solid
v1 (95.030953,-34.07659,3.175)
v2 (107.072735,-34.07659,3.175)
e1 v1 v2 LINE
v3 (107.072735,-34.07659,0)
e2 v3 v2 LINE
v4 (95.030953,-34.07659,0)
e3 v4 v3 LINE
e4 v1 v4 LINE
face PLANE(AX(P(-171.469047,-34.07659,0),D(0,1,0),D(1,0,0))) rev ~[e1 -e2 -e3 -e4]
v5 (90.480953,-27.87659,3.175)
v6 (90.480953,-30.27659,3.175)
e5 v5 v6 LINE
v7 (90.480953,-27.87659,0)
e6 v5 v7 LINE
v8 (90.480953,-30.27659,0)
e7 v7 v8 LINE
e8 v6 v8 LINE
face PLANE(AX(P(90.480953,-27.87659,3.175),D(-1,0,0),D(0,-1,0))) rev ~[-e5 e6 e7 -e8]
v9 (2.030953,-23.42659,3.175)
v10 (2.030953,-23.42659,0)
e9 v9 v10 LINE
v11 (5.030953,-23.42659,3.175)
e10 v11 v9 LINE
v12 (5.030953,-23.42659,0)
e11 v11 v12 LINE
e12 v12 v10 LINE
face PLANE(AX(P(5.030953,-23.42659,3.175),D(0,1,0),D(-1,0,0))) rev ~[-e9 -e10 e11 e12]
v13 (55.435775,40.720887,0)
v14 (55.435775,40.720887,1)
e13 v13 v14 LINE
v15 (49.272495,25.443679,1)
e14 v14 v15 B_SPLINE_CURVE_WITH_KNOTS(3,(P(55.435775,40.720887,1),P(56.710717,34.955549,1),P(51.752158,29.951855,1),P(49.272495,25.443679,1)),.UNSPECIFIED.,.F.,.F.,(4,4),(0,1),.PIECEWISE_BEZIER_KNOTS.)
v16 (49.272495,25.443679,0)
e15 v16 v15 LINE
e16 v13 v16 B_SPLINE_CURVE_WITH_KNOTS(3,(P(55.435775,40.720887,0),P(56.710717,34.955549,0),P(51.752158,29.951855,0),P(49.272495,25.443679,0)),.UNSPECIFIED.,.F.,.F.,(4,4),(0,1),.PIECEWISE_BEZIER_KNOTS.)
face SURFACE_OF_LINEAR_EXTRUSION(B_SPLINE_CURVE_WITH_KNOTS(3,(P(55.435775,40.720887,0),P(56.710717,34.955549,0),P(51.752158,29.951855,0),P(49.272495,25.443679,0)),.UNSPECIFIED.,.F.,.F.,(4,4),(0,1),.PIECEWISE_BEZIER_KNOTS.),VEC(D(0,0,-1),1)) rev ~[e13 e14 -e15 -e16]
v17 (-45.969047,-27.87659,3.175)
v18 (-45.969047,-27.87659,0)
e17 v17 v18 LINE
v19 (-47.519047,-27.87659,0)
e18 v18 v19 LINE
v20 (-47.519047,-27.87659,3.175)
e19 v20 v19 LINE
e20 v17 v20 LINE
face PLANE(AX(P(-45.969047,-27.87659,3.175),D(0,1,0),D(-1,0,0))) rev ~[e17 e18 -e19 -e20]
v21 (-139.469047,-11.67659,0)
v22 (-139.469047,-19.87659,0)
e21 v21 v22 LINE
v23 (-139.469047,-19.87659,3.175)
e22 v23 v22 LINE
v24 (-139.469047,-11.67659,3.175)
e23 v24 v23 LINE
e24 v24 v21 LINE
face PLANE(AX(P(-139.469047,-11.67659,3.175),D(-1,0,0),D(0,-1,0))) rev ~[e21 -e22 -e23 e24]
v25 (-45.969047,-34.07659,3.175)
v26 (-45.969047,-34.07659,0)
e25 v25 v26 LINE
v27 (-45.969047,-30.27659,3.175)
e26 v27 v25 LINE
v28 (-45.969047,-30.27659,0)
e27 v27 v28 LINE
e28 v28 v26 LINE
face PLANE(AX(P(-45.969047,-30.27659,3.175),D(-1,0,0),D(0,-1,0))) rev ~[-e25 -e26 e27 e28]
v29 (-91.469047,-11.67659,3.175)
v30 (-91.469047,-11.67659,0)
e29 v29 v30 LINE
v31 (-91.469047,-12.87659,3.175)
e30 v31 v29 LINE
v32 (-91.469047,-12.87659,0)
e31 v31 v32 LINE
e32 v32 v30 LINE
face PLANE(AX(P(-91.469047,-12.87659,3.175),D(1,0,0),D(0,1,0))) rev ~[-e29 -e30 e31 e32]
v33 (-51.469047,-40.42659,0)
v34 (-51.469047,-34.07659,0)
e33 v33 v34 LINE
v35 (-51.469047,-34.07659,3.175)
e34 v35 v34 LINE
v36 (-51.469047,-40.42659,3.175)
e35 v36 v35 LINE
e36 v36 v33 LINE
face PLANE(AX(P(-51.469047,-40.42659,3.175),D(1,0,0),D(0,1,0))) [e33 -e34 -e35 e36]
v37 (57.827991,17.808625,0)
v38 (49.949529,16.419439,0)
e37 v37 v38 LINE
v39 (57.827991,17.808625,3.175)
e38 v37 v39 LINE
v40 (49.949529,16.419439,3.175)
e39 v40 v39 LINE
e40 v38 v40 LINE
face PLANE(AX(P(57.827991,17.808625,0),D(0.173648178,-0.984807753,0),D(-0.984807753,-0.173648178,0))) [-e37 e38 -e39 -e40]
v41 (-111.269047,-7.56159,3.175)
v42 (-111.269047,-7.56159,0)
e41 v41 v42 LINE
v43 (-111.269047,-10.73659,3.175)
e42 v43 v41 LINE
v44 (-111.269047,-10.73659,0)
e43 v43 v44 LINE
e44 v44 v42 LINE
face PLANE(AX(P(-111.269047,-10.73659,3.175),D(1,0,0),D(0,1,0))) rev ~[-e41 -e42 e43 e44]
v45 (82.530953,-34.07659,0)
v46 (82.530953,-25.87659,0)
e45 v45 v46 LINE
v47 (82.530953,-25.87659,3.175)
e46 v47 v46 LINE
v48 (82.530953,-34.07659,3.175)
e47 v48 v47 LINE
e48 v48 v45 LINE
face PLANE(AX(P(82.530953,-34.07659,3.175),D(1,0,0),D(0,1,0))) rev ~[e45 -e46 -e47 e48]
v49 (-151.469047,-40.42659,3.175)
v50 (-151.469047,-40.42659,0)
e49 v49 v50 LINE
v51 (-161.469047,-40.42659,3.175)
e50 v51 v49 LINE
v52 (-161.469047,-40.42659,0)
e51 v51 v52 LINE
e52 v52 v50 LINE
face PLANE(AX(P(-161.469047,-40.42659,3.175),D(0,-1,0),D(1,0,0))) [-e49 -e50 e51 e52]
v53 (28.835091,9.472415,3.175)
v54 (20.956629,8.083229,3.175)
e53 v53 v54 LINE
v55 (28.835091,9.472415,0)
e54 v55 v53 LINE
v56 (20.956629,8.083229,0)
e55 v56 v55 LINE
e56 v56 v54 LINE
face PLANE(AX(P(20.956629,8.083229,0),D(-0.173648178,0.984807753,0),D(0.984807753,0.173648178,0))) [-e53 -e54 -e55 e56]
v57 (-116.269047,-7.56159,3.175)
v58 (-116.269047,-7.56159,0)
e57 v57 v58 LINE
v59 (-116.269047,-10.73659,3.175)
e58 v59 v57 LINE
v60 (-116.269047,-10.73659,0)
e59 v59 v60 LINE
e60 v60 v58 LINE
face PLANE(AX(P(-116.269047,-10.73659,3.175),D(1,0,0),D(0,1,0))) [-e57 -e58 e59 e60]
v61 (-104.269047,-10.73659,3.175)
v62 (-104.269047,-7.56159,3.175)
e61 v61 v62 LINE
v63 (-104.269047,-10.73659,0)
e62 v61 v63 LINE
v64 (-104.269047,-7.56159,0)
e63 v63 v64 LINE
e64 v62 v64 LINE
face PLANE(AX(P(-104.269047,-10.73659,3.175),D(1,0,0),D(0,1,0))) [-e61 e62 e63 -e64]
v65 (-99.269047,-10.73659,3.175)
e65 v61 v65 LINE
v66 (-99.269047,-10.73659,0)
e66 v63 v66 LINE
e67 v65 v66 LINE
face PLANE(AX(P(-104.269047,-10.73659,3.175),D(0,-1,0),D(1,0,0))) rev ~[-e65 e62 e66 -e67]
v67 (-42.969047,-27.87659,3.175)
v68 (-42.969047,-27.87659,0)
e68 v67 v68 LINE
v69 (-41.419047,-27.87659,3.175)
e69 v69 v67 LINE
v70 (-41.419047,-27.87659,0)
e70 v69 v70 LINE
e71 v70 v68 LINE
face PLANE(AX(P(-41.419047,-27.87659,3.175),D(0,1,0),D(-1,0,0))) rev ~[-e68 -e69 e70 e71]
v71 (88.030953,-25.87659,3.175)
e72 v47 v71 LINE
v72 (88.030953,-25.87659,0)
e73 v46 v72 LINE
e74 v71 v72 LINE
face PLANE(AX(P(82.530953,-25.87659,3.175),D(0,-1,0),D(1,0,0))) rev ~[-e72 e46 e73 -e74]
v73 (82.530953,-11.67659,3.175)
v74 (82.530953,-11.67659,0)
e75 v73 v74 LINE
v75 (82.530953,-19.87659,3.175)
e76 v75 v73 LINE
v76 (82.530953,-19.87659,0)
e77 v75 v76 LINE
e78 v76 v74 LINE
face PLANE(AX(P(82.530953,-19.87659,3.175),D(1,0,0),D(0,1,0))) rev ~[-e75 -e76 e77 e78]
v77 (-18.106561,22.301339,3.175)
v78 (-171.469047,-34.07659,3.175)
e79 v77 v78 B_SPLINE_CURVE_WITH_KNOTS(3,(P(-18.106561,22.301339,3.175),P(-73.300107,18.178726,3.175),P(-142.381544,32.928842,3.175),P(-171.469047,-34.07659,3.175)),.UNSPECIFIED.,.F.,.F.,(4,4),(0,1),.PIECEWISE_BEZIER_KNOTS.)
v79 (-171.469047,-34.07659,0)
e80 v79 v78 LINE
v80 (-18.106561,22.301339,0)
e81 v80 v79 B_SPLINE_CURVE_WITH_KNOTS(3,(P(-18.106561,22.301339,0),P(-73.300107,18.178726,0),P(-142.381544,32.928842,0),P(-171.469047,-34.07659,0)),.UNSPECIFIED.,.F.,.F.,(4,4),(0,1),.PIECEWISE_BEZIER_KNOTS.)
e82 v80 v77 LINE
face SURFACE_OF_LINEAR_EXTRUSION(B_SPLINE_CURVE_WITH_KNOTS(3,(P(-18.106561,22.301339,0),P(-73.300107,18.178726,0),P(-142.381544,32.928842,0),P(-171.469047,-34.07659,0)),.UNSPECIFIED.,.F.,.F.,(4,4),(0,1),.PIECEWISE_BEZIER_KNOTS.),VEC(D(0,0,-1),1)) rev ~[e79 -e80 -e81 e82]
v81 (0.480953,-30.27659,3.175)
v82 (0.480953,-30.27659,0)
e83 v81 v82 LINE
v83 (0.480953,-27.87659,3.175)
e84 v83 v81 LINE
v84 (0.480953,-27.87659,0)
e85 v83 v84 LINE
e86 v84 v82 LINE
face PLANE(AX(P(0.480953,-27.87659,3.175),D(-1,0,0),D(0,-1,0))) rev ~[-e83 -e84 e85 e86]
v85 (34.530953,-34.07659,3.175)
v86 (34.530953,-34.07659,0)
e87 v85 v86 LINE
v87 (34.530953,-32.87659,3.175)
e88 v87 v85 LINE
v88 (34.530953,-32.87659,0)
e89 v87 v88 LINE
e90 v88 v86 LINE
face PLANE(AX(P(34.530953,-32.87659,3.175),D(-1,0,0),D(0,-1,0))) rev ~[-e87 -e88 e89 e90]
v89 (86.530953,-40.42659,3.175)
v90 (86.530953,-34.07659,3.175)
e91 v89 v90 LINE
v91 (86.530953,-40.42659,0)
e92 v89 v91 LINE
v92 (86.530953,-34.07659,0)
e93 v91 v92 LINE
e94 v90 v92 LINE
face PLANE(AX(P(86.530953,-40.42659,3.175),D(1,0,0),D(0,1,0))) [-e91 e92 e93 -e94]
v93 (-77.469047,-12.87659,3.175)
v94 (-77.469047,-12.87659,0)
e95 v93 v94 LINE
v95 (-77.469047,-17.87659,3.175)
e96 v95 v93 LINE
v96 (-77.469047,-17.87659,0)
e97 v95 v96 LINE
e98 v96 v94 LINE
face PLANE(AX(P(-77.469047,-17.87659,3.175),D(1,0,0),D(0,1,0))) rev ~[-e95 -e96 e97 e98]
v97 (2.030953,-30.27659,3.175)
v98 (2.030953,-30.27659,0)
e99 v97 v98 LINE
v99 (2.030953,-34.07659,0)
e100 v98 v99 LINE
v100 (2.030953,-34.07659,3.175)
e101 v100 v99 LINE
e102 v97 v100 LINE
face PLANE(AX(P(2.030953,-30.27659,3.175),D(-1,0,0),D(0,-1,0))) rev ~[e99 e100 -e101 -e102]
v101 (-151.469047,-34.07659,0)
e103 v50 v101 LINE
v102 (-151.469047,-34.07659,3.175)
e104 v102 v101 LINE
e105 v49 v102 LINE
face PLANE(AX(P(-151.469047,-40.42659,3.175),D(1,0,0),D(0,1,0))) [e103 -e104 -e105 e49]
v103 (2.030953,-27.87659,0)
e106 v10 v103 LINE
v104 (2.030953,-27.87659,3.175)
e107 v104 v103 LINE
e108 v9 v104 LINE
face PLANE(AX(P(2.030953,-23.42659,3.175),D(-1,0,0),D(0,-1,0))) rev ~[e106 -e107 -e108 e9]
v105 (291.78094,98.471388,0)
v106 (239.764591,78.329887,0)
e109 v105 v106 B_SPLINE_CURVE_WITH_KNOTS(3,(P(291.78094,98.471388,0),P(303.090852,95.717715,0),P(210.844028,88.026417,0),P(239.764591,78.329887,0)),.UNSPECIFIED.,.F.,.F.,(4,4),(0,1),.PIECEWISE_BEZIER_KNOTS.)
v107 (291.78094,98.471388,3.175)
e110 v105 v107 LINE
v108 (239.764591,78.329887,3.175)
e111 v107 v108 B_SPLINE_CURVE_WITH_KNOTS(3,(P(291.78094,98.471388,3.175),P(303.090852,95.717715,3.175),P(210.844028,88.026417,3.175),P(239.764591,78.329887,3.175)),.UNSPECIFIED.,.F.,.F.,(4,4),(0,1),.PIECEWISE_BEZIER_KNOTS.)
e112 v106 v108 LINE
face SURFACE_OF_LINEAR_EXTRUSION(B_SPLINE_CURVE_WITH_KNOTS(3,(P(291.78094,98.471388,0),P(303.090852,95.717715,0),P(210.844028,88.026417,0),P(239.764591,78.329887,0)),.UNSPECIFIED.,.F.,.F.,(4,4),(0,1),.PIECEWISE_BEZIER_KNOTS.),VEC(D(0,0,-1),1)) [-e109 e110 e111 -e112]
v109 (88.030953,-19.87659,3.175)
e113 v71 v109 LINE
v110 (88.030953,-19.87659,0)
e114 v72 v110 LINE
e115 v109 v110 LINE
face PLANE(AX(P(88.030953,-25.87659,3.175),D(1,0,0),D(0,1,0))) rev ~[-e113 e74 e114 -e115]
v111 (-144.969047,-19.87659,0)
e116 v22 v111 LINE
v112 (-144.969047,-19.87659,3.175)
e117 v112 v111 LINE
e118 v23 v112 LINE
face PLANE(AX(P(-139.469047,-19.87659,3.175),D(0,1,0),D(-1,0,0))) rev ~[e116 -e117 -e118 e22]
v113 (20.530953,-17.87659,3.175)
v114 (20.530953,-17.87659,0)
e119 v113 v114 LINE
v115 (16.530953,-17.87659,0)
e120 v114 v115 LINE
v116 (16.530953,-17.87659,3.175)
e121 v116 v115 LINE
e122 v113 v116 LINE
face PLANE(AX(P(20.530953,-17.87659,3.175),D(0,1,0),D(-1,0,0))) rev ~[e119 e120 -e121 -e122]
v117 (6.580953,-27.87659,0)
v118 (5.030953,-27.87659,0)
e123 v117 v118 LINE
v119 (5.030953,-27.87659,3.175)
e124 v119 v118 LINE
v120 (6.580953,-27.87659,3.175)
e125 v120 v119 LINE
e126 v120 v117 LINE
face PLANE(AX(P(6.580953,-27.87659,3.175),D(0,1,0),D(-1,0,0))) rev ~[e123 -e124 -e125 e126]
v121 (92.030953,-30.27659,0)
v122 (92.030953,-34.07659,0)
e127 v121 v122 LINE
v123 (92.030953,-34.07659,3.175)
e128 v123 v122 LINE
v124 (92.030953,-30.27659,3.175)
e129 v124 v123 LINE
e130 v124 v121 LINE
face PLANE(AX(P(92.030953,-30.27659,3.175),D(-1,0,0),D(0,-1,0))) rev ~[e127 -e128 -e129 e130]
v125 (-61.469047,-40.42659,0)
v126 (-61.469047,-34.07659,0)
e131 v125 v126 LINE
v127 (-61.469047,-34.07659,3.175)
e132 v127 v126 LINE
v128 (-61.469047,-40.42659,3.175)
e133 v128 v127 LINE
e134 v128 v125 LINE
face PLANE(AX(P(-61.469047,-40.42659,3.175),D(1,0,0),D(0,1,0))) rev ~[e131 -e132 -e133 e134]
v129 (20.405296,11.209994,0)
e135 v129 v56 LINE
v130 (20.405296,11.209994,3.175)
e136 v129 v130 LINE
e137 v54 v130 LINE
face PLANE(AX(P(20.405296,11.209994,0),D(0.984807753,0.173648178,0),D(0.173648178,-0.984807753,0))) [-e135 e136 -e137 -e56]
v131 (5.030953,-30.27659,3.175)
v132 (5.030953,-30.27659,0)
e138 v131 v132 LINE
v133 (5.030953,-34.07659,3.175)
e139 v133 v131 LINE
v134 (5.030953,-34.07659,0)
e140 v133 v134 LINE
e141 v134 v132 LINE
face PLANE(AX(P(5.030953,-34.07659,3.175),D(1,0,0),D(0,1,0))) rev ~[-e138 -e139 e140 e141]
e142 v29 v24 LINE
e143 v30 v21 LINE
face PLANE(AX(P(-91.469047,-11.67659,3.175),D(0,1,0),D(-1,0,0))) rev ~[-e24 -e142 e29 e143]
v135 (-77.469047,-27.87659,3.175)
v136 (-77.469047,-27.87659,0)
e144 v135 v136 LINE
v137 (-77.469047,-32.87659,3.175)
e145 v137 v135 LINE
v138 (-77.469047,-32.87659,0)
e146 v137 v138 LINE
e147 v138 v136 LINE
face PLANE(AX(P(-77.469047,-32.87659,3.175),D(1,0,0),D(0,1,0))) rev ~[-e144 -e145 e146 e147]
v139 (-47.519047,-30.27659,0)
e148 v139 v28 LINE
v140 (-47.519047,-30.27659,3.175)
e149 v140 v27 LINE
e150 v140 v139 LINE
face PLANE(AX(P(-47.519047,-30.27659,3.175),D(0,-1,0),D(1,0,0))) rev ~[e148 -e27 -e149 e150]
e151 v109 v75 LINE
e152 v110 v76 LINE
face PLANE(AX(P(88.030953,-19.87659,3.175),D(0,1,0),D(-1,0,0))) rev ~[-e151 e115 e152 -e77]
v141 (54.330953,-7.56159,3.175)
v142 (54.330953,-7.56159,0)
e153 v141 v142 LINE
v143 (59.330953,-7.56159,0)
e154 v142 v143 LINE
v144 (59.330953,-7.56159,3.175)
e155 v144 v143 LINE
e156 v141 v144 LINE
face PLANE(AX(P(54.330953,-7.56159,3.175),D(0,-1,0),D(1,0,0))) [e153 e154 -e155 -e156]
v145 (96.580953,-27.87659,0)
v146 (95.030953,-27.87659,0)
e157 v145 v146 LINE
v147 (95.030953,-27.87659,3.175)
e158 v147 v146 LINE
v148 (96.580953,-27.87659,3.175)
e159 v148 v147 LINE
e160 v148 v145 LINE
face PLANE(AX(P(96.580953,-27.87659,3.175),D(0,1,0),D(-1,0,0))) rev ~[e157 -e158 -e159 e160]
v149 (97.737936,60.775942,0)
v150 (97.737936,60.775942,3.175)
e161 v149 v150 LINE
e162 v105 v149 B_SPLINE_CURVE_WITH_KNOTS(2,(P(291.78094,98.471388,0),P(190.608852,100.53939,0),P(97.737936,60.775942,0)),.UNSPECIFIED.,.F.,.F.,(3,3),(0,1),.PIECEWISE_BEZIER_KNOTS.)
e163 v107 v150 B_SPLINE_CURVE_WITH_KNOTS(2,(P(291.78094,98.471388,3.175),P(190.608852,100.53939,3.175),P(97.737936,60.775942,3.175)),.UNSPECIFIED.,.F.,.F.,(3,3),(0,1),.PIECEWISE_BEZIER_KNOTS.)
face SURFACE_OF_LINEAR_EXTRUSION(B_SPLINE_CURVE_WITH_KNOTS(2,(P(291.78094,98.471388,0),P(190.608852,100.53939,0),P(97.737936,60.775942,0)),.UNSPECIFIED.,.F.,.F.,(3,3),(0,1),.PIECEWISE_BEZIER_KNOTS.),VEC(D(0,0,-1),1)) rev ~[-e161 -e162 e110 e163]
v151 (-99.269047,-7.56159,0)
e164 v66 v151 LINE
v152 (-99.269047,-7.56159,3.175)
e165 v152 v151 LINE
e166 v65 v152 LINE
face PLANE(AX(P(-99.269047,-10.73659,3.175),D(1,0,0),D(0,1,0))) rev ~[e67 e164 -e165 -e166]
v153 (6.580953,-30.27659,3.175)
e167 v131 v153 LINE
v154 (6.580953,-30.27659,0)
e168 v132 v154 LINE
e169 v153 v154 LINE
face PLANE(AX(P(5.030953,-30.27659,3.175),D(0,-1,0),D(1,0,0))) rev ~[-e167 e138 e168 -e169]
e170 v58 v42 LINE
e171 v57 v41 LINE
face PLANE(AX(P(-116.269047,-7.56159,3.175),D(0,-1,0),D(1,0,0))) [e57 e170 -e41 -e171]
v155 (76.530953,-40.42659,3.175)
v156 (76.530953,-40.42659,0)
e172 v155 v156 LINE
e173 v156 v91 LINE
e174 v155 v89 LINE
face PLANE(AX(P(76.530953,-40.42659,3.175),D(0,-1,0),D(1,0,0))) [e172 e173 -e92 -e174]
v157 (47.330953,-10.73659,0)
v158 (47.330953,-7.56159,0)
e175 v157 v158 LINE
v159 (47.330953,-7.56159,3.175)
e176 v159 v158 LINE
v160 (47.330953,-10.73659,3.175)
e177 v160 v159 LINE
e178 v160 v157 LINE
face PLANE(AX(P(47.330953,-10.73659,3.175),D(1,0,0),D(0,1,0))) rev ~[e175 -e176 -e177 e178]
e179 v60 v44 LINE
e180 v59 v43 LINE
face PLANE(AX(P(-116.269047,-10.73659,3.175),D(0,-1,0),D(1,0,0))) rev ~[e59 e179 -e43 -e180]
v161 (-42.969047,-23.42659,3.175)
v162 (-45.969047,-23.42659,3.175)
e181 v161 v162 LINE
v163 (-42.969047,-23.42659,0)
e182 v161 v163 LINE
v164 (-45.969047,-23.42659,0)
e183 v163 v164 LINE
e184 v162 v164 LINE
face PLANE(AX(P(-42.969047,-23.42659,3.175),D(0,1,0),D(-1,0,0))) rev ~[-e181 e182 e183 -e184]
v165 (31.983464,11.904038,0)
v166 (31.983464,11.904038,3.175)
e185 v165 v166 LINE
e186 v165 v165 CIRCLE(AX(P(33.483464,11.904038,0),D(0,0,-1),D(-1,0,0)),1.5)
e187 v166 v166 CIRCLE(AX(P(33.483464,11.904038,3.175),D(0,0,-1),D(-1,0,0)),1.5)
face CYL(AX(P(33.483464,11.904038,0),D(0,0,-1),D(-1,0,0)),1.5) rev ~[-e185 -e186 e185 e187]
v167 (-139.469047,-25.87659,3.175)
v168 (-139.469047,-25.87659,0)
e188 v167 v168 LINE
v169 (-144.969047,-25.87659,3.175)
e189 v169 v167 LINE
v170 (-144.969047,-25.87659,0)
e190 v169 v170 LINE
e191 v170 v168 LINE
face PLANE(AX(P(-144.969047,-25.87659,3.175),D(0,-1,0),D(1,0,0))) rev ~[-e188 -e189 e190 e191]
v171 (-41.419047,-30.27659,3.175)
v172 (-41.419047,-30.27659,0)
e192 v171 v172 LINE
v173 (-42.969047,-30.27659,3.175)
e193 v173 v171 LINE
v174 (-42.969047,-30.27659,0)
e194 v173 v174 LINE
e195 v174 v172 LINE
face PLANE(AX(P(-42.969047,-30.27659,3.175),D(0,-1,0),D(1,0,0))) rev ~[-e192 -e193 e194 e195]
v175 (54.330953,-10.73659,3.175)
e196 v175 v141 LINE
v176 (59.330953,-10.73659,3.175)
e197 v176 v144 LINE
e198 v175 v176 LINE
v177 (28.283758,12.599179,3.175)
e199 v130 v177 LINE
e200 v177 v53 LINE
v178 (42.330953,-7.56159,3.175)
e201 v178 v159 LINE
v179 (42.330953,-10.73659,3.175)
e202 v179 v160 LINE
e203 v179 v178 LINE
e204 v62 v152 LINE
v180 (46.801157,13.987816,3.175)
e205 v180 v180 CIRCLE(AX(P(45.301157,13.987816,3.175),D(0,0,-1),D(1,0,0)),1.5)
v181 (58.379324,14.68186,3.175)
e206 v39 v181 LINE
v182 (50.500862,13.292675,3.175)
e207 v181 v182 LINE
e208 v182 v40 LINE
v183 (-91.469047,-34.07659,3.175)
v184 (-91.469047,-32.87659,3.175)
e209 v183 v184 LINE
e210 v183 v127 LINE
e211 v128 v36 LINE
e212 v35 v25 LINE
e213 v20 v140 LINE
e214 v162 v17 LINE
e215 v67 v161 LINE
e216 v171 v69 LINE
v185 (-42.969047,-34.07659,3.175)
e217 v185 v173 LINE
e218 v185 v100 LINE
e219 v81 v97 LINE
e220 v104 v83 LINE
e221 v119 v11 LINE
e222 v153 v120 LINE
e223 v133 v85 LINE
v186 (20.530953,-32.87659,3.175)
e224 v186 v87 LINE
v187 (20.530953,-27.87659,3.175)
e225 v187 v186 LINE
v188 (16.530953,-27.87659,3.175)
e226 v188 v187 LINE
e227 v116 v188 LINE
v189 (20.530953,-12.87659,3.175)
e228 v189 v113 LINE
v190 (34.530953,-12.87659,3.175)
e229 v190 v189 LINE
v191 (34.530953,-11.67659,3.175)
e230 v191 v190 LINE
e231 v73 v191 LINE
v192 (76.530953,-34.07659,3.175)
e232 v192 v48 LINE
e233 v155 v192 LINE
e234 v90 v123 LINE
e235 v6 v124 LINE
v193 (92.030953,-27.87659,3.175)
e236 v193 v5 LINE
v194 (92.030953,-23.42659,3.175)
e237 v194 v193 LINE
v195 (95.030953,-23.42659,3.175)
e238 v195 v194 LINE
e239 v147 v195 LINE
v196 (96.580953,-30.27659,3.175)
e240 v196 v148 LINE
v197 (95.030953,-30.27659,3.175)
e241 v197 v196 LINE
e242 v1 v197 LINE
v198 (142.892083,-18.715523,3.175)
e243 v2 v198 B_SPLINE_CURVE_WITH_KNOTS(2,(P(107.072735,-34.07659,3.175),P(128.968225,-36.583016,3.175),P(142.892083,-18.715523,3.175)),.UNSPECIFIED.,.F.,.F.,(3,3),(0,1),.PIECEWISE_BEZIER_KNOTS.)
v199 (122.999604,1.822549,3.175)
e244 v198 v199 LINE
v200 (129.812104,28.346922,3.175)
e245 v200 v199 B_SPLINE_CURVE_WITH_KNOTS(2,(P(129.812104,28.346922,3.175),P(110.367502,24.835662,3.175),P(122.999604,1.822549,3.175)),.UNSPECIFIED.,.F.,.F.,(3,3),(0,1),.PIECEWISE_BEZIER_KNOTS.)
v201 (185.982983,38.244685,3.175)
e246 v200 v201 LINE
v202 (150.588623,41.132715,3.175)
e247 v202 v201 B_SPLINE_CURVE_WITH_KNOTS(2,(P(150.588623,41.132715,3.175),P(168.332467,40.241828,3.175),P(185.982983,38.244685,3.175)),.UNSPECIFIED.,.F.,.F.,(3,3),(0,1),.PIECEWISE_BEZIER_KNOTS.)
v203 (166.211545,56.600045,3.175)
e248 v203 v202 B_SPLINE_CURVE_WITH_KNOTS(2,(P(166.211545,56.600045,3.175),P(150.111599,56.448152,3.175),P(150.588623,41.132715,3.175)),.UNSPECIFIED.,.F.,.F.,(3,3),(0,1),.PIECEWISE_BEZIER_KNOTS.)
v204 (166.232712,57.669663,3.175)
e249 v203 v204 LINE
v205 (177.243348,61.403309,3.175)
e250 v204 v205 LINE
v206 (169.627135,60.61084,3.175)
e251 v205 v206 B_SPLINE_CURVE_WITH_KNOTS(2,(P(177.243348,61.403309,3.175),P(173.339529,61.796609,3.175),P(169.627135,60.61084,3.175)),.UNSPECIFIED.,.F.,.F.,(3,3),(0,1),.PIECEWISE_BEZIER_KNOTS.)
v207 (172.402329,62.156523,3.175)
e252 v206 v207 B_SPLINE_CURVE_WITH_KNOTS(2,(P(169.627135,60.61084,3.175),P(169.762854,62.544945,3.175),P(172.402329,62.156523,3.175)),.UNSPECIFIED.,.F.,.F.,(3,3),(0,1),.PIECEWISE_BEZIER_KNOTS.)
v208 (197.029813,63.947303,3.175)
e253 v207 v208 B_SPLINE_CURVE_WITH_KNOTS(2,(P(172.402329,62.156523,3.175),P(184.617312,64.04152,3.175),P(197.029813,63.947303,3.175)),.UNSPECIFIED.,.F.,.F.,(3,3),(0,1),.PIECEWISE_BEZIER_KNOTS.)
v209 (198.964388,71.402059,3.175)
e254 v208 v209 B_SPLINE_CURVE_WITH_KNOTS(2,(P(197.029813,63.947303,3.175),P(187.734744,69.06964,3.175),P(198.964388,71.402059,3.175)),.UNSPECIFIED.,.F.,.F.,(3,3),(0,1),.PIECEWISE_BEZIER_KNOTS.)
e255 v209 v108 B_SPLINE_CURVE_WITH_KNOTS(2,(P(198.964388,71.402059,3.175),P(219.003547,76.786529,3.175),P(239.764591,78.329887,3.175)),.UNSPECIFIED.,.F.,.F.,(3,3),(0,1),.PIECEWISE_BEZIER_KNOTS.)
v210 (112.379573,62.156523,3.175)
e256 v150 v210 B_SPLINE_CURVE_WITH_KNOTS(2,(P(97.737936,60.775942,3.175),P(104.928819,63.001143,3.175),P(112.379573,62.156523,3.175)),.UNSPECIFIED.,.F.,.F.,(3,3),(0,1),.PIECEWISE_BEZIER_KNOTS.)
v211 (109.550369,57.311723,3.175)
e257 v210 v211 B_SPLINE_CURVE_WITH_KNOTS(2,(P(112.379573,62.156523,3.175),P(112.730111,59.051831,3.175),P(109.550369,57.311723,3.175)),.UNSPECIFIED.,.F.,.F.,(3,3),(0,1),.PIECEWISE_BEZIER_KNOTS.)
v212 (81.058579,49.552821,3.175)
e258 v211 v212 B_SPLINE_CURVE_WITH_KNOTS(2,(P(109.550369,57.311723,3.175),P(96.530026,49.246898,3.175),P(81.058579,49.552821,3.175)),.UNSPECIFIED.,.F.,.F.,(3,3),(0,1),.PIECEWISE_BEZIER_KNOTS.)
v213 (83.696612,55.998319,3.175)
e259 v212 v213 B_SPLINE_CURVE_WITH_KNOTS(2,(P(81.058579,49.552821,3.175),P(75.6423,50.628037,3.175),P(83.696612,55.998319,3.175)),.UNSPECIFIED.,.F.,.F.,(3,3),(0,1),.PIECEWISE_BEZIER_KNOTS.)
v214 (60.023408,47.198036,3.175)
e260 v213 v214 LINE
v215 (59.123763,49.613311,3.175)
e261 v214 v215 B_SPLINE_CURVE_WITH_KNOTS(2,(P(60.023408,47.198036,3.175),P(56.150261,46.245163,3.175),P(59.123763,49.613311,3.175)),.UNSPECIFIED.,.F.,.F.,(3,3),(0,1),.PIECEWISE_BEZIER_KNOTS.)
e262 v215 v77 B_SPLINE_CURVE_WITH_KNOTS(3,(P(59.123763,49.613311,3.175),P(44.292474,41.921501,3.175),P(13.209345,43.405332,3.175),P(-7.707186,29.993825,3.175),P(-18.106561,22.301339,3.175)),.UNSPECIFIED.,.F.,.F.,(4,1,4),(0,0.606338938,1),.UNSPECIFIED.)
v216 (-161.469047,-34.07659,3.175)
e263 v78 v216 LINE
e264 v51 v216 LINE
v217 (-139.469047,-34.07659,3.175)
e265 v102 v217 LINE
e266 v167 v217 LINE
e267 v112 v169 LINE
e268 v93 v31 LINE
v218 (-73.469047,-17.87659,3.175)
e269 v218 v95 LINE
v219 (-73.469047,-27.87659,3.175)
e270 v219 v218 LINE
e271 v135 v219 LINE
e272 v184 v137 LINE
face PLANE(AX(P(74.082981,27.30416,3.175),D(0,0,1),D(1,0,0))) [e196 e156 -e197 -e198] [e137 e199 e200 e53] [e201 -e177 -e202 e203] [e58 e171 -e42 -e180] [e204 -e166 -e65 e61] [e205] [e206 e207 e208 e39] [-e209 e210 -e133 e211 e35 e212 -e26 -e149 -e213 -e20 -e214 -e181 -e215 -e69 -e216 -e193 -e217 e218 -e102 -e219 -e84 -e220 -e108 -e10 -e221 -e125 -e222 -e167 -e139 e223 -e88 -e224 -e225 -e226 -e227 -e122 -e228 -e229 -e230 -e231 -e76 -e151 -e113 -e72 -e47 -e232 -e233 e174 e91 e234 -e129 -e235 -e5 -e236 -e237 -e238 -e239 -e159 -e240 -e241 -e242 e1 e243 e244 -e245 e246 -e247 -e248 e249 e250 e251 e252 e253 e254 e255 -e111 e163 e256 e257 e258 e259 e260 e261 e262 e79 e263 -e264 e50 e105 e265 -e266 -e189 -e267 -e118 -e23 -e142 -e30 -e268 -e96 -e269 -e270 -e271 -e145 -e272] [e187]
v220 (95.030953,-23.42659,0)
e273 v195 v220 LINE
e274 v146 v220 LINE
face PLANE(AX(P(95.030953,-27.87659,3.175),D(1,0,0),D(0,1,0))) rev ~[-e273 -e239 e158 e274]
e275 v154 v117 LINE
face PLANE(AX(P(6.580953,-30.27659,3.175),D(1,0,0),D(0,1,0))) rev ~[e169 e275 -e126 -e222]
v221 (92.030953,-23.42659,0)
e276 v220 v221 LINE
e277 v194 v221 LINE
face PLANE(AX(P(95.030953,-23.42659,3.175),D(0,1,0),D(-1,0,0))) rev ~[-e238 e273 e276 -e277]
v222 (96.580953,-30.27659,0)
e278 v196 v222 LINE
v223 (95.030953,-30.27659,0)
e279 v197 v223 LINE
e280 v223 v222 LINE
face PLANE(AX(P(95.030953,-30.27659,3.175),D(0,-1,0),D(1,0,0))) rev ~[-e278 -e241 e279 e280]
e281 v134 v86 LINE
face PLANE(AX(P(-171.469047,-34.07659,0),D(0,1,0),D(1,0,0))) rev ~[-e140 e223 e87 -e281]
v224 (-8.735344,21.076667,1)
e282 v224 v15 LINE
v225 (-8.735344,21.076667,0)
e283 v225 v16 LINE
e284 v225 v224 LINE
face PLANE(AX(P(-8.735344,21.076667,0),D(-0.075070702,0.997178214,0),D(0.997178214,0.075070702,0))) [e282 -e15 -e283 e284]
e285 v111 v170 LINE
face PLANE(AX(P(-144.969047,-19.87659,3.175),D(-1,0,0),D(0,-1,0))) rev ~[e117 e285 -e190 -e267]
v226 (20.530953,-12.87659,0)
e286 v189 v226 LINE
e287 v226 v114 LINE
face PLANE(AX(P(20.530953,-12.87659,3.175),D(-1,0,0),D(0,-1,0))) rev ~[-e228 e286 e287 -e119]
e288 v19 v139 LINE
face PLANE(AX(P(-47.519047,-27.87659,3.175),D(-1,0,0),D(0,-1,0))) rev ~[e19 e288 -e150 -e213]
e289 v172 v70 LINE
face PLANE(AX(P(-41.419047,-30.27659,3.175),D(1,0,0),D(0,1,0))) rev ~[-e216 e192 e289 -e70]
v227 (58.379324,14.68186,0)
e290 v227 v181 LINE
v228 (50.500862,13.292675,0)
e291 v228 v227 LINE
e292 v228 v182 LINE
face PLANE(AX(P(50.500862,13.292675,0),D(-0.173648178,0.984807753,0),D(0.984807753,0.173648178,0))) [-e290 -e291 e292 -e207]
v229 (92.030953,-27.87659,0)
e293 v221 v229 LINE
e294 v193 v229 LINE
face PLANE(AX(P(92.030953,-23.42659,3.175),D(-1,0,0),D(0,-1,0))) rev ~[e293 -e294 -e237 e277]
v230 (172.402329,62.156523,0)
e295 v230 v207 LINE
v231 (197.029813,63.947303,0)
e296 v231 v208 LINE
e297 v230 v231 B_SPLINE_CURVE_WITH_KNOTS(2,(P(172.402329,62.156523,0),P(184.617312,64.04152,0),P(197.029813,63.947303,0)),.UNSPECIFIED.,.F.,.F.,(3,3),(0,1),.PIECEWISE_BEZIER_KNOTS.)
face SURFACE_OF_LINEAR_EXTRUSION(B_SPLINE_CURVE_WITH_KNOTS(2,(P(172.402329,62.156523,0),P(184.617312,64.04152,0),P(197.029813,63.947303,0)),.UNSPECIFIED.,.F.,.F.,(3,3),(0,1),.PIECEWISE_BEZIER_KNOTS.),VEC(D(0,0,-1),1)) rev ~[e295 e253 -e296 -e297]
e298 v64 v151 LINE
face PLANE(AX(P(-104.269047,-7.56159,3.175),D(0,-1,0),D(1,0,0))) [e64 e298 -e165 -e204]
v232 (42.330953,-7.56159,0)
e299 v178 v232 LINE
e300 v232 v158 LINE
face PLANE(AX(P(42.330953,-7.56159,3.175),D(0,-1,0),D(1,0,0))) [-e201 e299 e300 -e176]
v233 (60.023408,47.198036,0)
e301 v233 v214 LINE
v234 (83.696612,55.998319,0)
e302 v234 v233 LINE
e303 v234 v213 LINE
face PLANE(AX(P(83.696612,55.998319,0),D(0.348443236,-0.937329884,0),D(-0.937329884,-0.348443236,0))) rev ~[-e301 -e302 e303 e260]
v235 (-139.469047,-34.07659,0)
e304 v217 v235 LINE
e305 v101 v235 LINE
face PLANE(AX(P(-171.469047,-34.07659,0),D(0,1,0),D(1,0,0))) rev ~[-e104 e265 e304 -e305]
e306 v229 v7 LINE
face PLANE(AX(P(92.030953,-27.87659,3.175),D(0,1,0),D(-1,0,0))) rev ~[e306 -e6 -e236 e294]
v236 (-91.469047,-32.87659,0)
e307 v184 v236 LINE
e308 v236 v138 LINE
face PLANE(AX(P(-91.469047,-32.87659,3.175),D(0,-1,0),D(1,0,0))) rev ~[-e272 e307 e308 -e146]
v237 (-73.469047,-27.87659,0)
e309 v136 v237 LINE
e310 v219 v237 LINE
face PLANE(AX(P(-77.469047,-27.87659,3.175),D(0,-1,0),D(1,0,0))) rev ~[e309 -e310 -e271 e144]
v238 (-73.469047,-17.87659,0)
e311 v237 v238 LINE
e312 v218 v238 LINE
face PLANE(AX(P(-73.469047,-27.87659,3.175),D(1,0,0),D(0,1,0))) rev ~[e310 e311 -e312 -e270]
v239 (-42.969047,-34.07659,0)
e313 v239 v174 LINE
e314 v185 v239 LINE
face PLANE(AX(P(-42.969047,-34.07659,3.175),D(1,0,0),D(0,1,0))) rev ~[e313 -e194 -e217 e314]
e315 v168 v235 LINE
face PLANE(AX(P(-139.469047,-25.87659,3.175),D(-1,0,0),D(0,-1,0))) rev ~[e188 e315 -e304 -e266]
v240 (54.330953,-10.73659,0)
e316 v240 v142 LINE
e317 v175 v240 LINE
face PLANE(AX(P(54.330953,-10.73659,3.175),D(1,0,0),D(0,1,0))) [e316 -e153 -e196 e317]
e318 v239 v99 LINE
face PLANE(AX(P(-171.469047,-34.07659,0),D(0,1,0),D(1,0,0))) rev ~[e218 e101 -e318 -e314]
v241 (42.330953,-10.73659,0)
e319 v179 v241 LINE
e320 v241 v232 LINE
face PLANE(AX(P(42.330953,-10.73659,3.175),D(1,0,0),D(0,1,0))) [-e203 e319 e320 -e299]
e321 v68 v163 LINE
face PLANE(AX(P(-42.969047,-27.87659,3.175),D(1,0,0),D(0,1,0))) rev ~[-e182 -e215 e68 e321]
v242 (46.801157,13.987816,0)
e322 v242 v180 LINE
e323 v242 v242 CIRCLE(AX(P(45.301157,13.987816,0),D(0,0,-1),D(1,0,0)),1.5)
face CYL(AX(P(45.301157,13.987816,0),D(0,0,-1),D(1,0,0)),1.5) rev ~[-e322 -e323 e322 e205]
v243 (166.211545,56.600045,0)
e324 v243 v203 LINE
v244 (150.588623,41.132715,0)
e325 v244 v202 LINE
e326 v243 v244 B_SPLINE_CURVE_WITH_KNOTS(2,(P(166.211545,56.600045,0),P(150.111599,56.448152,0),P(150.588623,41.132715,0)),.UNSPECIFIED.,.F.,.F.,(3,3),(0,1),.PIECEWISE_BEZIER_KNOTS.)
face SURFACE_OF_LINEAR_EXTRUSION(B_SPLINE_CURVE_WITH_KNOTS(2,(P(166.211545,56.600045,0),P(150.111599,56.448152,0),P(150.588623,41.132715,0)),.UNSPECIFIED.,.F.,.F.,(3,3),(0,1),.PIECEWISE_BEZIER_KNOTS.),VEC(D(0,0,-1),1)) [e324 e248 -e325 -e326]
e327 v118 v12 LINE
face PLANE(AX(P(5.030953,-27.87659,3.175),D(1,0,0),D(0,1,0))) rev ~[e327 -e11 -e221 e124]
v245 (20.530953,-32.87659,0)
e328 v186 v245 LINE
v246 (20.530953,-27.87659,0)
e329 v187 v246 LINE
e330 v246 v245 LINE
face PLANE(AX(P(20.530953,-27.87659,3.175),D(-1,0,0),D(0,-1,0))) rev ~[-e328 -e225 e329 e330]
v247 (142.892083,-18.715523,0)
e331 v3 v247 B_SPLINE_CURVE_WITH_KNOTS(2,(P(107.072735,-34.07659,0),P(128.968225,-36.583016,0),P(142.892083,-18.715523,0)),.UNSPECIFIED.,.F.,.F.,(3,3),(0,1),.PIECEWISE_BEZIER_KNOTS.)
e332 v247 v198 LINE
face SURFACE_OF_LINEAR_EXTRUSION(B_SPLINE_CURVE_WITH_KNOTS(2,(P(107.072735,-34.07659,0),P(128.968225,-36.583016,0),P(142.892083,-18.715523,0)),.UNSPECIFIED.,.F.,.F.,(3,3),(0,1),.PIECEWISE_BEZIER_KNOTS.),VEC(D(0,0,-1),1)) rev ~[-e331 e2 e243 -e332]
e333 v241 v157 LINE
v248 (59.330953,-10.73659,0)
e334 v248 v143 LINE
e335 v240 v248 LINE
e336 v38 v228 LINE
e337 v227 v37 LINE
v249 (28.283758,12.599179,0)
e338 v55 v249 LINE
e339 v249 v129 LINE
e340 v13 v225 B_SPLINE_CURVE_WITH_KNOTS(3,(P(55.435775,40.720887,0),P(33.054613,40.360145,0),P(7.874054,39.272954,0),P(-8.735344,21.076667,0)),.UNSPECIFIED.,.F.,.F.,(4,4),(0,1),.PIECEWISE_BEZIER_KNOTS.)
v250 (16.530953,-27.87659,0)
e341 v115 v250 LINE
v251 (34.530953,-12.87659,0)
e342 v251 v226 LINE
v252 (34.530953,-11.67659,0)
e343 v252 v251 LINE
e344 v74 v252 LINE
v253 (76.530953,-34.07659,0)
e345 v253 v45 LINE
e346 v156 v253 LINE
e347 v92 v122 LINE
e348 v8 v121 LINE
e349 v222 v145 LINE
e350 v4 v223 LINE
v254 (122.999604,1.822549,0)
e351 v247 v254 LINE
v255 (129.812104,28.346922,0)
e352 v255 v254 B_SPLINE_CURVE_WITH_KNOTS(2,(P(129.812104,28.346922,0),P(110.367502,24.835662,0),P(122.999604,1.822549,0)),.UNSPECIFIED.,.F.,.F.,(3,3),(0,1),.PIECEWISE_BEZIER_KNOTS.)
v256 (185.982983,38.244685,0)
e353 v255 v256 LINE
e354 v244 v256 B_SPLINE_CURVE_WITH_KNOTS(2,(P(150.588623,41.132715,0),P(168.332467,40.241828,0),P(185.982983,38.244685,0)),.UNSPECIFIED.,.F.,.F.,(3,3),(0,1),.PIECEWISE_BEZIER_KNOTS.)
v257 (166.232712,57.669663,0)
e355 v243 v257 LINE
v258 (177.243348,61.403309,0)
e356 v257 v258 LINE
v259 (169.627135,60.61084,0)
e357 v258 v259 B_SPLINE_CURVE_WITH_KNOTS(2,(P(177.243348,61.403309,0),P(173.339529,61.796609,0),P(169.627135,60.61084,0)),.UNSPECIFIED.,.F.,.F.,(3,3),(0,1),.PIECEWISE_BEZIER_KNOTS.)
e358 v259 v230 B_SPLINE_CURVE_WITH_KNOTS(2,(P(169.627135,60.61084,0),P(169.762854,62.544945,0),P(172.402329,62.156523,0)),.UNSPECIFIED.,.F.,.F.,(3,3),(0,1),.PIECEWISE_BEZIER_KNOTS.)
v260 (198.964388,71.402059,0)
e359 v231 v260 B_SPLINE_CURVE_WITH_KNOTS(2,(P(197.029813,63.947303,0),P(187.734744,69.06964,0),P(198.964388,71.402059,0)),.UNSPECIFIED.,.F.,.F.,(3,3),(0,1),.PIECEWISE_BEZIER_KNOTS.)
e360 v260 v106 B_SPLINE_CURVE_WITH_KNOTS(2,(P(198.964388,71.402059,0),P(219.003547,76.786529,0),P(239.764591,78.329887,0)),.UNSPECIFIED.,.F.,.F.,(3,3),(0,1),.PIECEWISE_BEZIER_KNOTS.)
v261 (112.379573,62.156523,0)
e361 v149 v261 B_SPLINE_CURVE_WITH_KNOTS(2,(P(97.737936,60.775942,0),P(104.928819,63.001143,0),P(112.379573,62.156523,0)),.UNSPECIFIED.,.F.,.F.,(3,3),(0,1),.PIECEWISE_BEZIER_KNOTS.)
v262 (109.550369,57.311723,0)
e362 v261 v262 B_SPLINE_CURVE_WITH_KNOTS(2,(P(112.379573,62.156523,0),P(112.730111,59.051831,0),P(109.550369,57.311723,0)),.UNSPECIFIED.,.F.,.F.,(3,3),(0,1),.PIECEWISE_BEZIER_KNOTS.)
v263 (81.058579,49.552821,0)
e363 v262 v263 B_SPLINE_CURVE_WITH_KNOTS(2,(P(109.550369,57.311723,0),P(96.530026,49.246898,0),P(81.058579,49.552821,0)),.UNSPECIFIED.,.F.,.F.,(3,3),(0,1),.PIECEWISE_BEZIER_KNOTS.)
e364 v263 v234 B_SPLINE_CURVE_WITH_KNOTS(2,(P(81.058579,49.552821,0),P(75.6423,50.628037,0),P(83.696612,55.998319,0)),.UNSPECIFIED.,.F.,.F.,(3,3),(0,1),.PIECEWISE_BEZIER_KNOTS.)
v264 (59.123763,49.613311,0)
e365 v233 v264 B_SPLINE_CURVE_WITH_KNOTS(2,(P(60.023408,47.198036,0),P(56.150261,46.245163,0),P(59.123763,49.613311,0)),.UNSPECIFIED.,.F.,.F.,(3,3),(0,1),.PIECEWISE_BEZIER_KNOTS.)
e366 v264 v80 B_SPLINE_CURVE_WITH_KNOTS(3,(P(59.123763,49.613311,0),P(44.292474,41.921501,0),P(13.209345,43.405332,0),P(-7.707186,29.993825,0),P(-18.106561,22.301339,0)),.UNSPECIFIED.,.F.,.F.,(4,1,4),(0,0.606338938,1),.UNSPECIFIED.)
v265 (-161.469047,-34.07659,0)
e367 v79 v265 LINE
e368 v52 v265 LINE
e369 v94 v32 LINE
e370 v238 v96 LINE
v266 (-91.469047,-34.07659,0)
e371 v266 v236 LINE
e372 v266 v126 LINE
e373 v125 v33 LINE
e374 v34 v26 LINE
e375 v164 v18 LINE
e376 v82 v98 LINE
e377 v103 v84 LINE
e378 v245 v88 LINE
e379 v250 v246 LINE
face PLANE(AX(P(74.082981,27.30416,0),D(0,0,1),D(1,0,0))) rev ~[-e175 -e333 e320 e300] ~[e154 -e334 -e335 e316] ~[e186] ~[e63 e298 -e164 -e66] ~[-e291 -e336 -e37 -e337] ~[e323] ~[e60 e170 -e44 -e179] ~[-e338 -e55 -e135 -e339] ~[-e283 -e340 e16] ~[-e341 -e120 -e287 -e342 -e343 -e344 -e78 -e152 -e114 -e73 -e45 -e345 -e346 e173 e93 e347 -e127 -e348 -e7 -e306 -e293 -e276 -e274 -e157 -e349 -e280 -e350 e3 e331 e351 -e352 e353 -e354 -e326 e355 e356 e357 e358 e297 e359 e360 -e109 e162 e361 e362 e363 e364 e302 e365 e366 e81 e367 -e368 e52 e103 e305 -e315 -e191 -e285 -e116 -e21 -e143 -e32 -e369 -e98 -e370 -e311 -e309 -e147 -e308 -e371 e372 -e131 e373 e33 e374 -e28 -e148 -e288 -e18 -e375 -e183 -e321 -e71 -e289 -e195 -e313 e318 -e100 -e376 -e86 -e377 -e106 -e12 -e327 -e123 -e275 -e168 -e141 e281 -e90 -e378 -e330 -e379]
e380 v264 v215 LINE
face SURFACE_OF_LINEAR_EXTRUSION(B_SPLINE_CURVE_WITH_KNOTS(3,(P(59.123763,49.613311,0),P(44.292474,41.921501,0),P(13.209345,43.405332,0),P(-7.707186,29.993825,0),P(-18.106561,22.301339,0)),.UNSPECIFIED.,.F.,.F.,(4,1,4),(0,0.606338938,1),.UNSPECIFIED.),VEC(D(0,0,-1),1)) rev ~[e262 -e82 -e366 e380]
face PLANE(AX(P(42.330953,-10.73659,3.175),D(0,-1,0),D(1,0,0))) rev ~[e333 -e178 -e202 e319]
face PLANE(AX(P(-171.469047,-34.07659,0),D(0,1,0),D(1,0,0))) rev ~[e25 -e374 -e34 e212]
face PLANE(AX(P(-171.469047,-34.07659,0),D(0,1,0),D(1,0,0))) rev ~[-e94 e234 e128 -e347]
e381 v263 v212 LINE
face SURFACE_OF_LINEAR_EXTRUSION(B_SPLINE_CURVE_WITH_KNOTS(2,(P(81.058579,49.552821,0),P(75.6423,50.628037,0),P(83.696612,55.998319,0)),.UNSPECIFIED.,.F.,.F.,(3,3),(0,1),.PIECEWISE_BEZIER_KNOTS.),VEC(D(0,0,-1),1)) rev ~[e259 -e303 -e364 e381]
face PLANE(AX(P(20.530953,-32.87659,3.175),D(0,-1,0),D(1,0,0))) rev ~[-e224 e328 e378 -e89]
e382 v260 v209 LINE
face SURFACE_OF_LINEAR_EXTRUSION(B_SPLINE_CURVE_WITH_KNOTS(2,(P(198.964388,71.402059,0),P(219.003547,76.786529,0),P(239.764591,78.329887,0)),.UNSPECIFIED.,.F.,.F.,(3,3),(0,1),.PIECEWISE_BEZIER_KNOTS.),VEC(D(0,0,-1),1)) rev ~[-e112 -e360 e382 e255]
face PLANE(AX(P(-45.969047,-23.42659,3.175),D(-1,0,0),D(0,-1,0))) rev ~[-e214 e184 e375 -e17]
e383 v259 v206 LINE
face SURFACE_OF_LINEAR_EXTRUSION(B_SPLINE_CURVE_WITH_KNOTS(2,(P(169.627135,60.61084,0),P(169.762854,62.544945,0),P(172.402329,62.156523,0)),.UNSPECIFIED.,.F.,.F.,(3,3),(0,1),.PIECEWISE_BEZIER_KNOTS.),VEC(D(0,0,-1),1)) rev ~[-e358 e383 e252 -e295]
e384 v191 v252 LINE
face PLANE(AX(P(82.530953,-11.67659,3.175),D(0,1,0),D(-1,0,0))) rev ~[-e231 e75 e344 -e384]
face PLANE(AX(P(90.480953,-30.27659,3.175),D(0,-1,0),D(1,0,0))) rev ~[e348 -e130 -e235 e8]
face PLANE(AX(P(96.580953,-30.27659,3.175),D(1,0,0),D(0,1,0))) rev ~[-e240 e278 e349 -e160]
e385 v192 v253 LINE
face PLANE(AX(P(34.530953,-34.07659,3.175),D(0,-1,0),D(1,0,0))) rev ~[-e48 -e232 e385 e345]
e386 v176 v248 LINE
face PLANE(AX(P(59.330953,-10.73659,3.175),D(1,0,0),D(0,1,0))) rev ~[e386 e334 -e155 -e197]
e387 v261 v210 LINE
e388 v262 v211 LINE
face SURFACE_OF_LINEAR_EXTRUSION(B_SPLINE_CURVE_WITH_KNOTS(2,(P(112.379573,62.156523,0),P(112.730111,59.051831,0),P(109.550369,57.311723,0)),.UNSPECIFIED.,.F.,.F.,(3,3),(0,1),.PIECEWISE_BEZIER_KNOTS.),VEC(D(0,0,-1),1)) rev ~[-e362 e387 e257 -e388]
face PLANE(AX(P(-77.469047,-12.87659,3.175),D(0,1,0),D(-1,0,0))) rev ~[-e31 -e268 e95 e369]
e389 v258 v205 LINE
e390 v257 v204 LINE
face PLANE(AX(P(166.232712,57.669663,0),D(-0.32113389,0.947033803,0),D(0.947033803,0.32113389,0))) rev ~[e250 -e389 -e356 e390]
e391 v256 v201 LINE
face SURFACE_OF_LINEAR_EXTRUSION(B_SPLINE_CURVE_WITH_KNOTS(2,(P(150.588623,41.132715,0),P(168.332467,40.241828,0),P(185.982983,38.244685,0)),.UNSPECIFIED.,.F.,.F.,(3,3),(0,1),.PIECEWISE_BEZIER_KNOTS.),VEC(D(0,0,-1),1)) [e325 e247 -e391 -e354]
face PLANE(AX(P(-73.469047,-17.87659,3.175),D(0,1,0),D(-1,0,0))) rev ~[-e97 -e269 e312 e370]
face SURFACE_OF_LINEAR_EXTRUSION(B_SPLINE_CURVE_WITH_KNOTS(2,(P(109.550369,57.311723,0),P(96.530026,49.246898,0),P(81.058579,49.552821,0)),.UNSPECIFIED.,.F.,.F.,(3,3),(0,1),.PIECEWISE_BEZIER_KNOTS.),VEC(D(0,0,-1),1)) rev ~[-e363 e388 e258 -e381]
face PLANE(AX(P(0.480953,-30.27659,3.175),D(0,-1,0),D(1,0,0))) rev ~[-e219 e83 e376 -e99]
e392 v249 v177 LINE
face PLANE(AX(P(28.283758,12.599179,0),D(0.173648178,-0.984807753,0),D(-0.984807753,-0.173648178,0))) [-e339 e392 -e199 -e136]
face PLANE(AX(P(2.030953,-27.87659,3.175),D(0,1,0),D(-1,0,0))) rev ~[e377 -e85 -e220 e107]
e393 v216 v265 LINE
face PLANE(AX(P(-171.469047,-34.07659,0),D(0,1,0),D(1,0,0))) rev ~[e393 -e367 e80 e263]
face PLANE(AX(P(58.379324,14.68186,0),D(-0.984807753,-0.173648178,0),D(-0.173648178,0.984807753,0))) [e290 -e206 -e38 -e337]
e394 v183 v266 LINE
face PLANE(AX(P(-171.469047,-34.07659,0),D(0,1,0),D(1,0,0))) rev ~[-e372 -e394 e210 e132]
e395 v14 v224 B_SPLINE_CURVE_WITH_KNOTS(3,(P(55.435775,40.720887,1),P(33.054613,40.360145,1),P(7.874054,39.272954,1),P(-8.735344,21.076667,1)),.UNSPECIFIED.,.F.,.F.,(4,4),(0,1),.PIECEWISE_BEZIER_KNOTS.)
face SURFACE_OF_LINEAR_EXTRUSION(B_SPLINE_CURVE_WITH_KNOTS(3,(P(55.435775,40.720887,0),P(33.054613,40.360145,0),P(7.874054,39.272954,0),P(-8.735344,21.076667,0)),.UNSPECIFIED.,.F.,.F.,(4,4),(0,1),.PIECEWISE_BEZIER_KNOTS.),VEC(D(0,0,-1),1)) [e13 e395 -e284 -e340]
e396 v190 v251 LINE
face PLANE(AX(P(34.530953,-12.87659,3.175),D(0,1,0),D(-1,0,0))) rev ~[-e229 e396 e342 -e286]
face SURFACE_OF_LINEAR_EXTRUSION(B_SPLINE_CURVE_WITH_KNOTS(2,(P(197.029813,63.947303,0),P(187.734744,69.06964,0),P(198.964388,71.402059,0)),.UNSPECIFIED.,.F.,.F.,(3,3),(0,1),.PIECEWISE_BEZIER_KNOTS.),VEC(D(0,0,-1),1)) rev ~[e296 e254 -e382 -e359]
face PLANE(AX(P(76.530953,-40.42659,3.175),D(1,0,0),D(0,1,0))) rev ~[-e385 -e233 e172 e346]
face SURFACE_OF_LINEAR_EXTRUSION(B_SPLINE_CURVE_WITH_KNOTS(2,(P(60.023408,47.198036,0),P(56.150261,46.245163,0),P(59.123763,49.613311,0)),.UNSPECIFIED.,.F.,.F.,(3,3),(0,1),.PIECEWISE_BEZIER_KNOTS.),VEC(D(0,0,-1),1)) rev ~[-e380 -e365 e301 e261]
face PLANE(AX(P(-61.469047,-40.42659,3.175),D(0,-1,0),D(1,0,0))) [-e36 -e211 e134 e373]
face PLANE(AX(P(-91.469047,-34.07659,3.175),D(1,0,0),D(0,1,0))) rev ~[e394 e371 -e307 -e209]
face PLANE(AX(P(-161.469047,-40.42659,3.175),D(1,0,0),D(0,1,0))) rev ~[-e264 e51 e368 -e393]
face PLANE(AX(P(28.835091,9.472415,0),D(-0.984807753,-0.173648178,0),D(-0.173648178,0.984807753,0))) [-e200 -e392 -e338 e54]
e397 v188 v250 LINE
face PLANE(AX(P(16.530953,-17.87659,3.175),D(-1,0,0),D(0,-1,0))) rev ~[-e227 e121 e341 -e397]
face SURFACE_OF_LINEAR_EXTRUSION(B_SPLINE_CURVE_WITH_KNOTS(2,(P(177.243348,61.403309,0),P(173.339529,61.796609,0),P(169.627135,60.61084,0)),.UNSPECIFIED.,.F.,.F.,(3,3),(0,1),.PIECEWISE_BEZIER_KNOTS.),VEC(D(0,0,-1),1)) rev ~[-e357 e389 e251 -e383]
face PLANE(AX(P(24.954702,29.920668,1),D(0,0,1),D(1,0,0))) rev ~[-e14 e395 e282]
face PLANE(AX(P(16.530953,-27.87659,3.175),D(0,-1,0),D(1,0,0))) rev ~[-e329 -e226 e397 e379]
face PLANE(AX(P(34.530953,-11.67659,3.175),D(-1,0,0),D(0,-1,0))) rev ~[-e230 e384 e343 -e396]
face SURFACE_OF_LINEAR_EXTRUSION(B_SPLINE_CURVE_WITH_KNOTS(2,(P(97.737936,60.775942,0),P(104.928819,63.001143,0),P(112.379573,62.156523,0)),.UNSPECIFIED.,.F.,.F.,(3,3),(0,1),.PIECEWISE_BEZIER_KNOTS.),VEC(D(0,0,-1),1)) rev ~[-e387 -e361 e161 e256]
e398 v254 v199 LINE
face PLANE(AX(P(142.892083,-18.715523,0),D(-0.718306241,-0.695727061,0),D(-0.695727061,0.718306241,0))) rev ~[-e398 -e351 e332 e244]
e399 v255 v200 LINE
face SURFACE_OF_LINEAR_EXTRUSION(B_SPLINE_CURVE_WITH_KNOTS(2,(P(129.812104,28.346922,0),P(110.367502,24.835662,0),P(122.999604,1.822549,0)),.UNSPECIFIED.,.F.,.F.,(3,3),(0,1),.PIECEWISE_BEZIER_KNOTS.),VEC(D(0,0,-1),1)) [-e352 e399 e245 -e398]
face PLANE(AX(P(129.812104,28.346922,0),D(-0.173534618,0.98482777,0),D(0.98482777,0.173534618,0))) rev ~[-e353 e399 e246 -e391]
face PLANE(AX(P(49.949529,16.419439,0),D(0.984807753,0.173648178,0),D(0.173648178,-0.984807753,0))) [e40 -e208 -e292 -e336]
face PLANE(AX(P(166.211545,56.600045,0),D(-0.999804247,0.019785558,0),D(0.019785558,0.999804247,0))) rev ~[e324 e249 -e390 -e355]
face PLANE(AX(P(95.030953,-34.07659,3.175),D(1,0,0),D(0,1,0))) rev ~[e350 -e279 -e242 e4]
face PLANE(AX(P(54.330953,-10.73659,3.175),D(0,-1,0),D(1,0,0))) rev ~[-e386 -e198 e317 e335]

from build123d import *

# Parameters (mm, degrees)
BOSS_EXTRUDE1_DEPTH = 3.175
SKETCH3_W           = 10
SKETCH3_H           = 6.35
BOSS_EXTRUDE2_DEPTH = 3.175
CUT_EXTRUDE1_DEPTH  = 1
CUT_EXTRUDE2_DEPTH  = 309.914260869
SKETCH7_W           = 5
SKETCH7_H           = 3.175
CUT_EXTRUDE3_DEPTH  = 309.914260869
SKETCH8_R           = 1.5
CUT_EXTRUDE4_DEPTH  = 309.914260869


with BuildPart() as part:
    # Sketch2 → Boss-Extrude1 (new body)
    with BuildSketch(Plane.XY):
        with BuildLine():
            Line((-171.469047232, -34.076589663), (107.072734851, -34.076589663))
            add(Edge.make_bspline(
                [(107.072734851, -34.076589663), (128.968224532, -36.583015685), (142.892082906, -18.715522774)],
                knots=[0, 0, 0, 1, 1, 1], degree=2))
            Line((142.892082906, -18.715522774), (122.99960361, 1.8225486))
            add(Edge.make_bspline(
                [(129.812103759, 28.346921979), (110.367502019, 24.835662341), (122.99960361, 1.8225486)],
                knots=[0, 0, 0, 1, 1, 1], degree=2))
            Line((129.812103759, 28.346921979), (185.982982819, 38.244685161))
            add(Edge.make_bspline(
                [(150.588622768, 41.132714976), (168.332466646, 40.241827569), (185.982982819, 38.244685161)],
                knots=[0, 0, 0, 1, 1, 1], degree=2))
            add(Edge.make_bspline(
                [(166.211544782, 56.600045126), (150.111599454, 56.448151942), (150.588622768, 41.132714976)],
                knots=[0, 0, 0, 1, 1, 1], degree=2))
            Line((166.211544782, 56.600045126), (166.232711914, 57.669663084))
            Line((166.232711914, 57.669663084), (177.243348067, 61.403308501))
            add(Edge.make_bspline(
                [(177.243348067, 61.403308501), (173.339529375, 61.796609349), (169.627135034, 60.610840144)],
                knots=[0, 0, 0, 1, 1, 1], degree=2))
            add(Edge.make_bspline(
                [(169.627135034, 60.610840144), (169.762853876, 62.544945332), (172.402329475, 62.156522878)],
                knots=[0, 0, 0, 1, 1, 1], degree=2))
            add(Edge.make_bspline(
                [(172.402329475, 62.156522878), (184.617311888, 64.041519989), (197.029812567, 63.947302758)],
                knots=[0, 0, 0, 1, 1, 1], degree=2))
            add(Edge.make_bspline(
                [(197.029812567, 63.947302758), (187.73474396, 69.069639789), (198.964387884, 71.402059066)],
                knots=[0, 0, 0, 1, 1, 1], degree=2))
            add(Edge.make_bspline(
                [(198.964387884, 71.402059066), (219.003547299, 76.786528717), (239.76459105, 78.329887141)],
                knots=[0, 0, 0, 1, 1, 1], degree=2))
            add(Edge.make_bspline(
                [(291.780939868, 98.47138823), (303.090852198, 95.717715254), (210.844028254, 88.026417155), (239.76459105, 78.329887141)],
                knots=[0, 0, 0, 0, 1, 1, 1, 1], degree=3))
            add(Edge.make_bspline(
                [(291.780939868, 98.47138823), (190.608851514, 100.539390251), (97.737935683, 60.775941524)],
                knots=[0, 0, 0, 1, 1, 1], degree=2))
            add(Edge.make_bspline(
                [(97.737935683, 60.775941524), (104.92881908, 63.001143493), (112.379572637, 62.156522878)],
                knots=[0, 0, 0, 1, 1, 1], degree=2))
            add(Edge.make_bspline(
                [(112.379572637, 62.156522878), (112.730110756, 59.051830939), (109.55036868, 57.311722682)],
                knots=[0, 0, 0, 1, 1, 1], degree=2))
            add(Edge.make_bspline(
                [(109.55036868, 57.311722682), (96.530025853, 49.246897899), (81.058579137, 49.55282081)],
                knots=[0, 0, 0, 1, 1, 1], degree=2))
            add(Edge.make_bspline(
                [(81.058579137, 49.55282081), (75.642299748, 50.628036984), (83.696612356, 55.998318906)],
                knots=[0, 0, 0, 1, 1, 1], degree=2))
            Line((83.696612356, 55.998318906), (60.023408157, 47.198036308))
            add(Edge.make_bspline(
                [(60.023408157, 47.198036308), (56.150260782, 46.24516321), (59.12376331, 49.613311176)],
                knots=[0, 0, 0, 1, 1, 1], degree=2))
            add(Edge.make_bspline(
                [(59.12376331, 49.613311176), (44.292473838, 41.921501166), (13.209344651, 43.405332099), (-7.707186428, 29.993825045), (-18.106560521, 22.301338951)],
                knots=[0, 0, 0, 0, 0.606338938, 1, 1, 1, 1], degree=3))
            add(Edge.make_bspline(
                [(-18.106560521, 22.301338951), (-73.30010729, 18.178725753), (-142.381543794, 32.928841514), (-171.469047232, -34.076589663)],
                knots=[0, 0, 0, 0, 1, 1, 1, 1], degree=3))
        make_face()
    extrude(amount=BOSS_EXTRUDE1_DEPTH)

    # Sketch3 → Boss-Extrude2 (add)
    with BuildSketch(Plane.XY.offset(3.175)):
        with Locations((-156.469047232, -37.251589663)):
            Rectangle(SKETCH3_W, SKETCH3_H)
        with Locations((-56.469047232, -37.251589663)):
            Rectangle(SKETCH3_W, SKETCH3_H)
        with Locations((81.530952768, -37.251589663)):
            Rectangle(SKETCH3_W, SKETCH3_H)
    extrude(amount=-BOSS_EXTRUDE2_DEPTH)

    # Sketch4 → Cut-Extrude1 (cut)
    with BuildSketch(Plane.XY):
        with BuildLine():
            Line((-8.735344321, 21.076667257), (49.27249451, 25.443679203))
            add(Edge.make_bspline(
                [(55.435775055, 40.720887474), (56.710717132, 34.955549426), (51.7521577, 29.95185464), (49.27249451, 25.443679203)],
                knots=[0, 0, 0, 0, 1, 1, 1, 1], degree=3))
            add(Edge.make_bspline(
                [(55.435775055, 40.720887474), (33.054612951, 40.360145045), (7.874054379, 39.272954497), (-8.735344321, 21.076667257)],
                knots=[0, 0, 0, 0, 1, 1, 1, 1], degree=3))
        make_face()
    extrude(amount=CUT_EXTRUDE1_DEPTH, mode=Mode.SUBTRACT)

    # Sketch5 → Cut-Extrude2 (cut, through all)
    with BuildSketch(Plane.XY.offset(3.175)):
        Polygon((-45.969047232, -34.076589663), (-42.969047232, -34.076589663), (-42.969047232, -30.276589663), (-41.419047232, -30.276589663), (-41.419047232, -27.876589663), (-42.969047232, -27.876589663), (-42.969047232, -23.426589663), (-45.969047232, -23.426589663), (-45.969047232, -27.876589663), (-47.519047232, -27.876589663), (-47.519047232, -30.276589663), (-45.969047232, -30.276589663), align=None)
        Polygon((2.030952768, -30.276589663), (2.030952768, -34.076589663), (5.030952768, -34.076589663), (5.030952768, -30.276589663), (6.580952768, -30.276589663), (6.580952768, -27.876589663), (5.030952768, -27.876589663), (5.030952768, -23.426589663), (2.030952768, -23.426589663), (2.030952768, -27.876589663), (0.480952768, -27.876589663), (0.480952768, -30.276589663), align=None)
        Polygon((92.030952768, -30.276589663), (92.030952768, -34.076589663), (95.030952768, -34.076589663), (95.030952768, -30.276589663), (96.580952768, -30.276589663), (96.580952768, -27.876589663), (95.030952768, -27.876589663), (95.030952768, -23.426589663), (92.030952768, -23.426589663), (92.030952768, -27.876589663), (90.480952768, -27.876589663), (90.480952768, -30.276589663), align=None)
    extrude(amount=-CUT_EXTRUDE2_DEPTH, mode=Mode.SUBTRACT)

    # Sketch7 → Cut-Extrude3 (cut, through all)
    with BuildSketch(Plane.XY.offset(3.175)):
        Polygon((-91.469047232, -32.876589663), (-77.469047232, -32.876589663), (-77.469047232, -27.876589663), (-73.469047232, -27.876589663), (-73.469047232, -17.876589663), (-77.469047232, -17.876589663), (-77.469047232, -12.876589663), (-91.469047232, -12.876589663), (-91.469047232, -11.676589663), (-139.469047232, -11.676589663), (-139.469047232, -19.876589663), (-144.969047232, -19.876589663), (-144.969047232, -25.876589663), (-139.469047232, -25.876589663), (-139.469047232, -34.076589663), (-91.469047232, -34.076589663), align=None)
        Polygon((20.530952768, -27.876589663), (20.530952768, -32.876589663), (34.530952768, -32.876589663), (34.530952768, -34.076589663), (82.530952768, -34.076589663), (82.530952768, -25.876589663), (88.030952768, -25.876589663), (88.030952768, -19.876589663), (82.530952768, -19.876589663), (82.530952768, -11.676589663), (34.530952768, -11.676589663), (34.530952768, -12.876589663), (20.530952768, -12.876589663), (20.530952768, -17.876589663), (16.530952768, -17.876589663), (16.530952768, -27.876589663), align=None)
        with Locations((-113.769047232, -9.149089663)):
            Rectangle(SKETCH7_W, SKETCH7_H)
        with Locations((-101.769047232, -9.149089663)):
            Rectangle(SKETCH7_W, SKETCH7_H)
        with Locations((44.830952768, -9.149089663)):
            Rectangle(SKETCH7_W, SKETCH7_H)
        with Locations((56.830952768, -9.149089663)):
            Rectangle(SKETCH7_W, SKETCH7_H)
    extrude(amount=-CUT_EXTRUDE3_DEPTH, mode=Mode.SUBTRACT)

    # Sketch8 → Cut-Extrude4 (cut, through all)
    with BuildSketch(Plane(origin=(0, 0, 0), x_dir=(-1, 0, 0), z_dir=(0, 0, -1))):
        with Locations((-33.483463602, 11.904038041)):
            Circle(SKETCH8_R)
        with Locations(Location((-45.301156639, 13.987816173, 0), (0, 0, 180))):
            Circle(SKETCH8_R)
        Polygon((-20.405296331, 11.209994039), (-20.956629295, 8.083229423), (-28.835091319, 9.472414844), (-28.283758355, 12.59917946), align=None)
        Polygon((-49.949528922, 16.419439369), (-50.500861886, 13.292674753), (-58.37932391, 14.681860174), (-57.827990946, 17.80862479), align=None)
    extrude(amount=-CUT_EXTRUDE4_DEPTH, mode=Mode.SUBTRACT)


solid = part.part
